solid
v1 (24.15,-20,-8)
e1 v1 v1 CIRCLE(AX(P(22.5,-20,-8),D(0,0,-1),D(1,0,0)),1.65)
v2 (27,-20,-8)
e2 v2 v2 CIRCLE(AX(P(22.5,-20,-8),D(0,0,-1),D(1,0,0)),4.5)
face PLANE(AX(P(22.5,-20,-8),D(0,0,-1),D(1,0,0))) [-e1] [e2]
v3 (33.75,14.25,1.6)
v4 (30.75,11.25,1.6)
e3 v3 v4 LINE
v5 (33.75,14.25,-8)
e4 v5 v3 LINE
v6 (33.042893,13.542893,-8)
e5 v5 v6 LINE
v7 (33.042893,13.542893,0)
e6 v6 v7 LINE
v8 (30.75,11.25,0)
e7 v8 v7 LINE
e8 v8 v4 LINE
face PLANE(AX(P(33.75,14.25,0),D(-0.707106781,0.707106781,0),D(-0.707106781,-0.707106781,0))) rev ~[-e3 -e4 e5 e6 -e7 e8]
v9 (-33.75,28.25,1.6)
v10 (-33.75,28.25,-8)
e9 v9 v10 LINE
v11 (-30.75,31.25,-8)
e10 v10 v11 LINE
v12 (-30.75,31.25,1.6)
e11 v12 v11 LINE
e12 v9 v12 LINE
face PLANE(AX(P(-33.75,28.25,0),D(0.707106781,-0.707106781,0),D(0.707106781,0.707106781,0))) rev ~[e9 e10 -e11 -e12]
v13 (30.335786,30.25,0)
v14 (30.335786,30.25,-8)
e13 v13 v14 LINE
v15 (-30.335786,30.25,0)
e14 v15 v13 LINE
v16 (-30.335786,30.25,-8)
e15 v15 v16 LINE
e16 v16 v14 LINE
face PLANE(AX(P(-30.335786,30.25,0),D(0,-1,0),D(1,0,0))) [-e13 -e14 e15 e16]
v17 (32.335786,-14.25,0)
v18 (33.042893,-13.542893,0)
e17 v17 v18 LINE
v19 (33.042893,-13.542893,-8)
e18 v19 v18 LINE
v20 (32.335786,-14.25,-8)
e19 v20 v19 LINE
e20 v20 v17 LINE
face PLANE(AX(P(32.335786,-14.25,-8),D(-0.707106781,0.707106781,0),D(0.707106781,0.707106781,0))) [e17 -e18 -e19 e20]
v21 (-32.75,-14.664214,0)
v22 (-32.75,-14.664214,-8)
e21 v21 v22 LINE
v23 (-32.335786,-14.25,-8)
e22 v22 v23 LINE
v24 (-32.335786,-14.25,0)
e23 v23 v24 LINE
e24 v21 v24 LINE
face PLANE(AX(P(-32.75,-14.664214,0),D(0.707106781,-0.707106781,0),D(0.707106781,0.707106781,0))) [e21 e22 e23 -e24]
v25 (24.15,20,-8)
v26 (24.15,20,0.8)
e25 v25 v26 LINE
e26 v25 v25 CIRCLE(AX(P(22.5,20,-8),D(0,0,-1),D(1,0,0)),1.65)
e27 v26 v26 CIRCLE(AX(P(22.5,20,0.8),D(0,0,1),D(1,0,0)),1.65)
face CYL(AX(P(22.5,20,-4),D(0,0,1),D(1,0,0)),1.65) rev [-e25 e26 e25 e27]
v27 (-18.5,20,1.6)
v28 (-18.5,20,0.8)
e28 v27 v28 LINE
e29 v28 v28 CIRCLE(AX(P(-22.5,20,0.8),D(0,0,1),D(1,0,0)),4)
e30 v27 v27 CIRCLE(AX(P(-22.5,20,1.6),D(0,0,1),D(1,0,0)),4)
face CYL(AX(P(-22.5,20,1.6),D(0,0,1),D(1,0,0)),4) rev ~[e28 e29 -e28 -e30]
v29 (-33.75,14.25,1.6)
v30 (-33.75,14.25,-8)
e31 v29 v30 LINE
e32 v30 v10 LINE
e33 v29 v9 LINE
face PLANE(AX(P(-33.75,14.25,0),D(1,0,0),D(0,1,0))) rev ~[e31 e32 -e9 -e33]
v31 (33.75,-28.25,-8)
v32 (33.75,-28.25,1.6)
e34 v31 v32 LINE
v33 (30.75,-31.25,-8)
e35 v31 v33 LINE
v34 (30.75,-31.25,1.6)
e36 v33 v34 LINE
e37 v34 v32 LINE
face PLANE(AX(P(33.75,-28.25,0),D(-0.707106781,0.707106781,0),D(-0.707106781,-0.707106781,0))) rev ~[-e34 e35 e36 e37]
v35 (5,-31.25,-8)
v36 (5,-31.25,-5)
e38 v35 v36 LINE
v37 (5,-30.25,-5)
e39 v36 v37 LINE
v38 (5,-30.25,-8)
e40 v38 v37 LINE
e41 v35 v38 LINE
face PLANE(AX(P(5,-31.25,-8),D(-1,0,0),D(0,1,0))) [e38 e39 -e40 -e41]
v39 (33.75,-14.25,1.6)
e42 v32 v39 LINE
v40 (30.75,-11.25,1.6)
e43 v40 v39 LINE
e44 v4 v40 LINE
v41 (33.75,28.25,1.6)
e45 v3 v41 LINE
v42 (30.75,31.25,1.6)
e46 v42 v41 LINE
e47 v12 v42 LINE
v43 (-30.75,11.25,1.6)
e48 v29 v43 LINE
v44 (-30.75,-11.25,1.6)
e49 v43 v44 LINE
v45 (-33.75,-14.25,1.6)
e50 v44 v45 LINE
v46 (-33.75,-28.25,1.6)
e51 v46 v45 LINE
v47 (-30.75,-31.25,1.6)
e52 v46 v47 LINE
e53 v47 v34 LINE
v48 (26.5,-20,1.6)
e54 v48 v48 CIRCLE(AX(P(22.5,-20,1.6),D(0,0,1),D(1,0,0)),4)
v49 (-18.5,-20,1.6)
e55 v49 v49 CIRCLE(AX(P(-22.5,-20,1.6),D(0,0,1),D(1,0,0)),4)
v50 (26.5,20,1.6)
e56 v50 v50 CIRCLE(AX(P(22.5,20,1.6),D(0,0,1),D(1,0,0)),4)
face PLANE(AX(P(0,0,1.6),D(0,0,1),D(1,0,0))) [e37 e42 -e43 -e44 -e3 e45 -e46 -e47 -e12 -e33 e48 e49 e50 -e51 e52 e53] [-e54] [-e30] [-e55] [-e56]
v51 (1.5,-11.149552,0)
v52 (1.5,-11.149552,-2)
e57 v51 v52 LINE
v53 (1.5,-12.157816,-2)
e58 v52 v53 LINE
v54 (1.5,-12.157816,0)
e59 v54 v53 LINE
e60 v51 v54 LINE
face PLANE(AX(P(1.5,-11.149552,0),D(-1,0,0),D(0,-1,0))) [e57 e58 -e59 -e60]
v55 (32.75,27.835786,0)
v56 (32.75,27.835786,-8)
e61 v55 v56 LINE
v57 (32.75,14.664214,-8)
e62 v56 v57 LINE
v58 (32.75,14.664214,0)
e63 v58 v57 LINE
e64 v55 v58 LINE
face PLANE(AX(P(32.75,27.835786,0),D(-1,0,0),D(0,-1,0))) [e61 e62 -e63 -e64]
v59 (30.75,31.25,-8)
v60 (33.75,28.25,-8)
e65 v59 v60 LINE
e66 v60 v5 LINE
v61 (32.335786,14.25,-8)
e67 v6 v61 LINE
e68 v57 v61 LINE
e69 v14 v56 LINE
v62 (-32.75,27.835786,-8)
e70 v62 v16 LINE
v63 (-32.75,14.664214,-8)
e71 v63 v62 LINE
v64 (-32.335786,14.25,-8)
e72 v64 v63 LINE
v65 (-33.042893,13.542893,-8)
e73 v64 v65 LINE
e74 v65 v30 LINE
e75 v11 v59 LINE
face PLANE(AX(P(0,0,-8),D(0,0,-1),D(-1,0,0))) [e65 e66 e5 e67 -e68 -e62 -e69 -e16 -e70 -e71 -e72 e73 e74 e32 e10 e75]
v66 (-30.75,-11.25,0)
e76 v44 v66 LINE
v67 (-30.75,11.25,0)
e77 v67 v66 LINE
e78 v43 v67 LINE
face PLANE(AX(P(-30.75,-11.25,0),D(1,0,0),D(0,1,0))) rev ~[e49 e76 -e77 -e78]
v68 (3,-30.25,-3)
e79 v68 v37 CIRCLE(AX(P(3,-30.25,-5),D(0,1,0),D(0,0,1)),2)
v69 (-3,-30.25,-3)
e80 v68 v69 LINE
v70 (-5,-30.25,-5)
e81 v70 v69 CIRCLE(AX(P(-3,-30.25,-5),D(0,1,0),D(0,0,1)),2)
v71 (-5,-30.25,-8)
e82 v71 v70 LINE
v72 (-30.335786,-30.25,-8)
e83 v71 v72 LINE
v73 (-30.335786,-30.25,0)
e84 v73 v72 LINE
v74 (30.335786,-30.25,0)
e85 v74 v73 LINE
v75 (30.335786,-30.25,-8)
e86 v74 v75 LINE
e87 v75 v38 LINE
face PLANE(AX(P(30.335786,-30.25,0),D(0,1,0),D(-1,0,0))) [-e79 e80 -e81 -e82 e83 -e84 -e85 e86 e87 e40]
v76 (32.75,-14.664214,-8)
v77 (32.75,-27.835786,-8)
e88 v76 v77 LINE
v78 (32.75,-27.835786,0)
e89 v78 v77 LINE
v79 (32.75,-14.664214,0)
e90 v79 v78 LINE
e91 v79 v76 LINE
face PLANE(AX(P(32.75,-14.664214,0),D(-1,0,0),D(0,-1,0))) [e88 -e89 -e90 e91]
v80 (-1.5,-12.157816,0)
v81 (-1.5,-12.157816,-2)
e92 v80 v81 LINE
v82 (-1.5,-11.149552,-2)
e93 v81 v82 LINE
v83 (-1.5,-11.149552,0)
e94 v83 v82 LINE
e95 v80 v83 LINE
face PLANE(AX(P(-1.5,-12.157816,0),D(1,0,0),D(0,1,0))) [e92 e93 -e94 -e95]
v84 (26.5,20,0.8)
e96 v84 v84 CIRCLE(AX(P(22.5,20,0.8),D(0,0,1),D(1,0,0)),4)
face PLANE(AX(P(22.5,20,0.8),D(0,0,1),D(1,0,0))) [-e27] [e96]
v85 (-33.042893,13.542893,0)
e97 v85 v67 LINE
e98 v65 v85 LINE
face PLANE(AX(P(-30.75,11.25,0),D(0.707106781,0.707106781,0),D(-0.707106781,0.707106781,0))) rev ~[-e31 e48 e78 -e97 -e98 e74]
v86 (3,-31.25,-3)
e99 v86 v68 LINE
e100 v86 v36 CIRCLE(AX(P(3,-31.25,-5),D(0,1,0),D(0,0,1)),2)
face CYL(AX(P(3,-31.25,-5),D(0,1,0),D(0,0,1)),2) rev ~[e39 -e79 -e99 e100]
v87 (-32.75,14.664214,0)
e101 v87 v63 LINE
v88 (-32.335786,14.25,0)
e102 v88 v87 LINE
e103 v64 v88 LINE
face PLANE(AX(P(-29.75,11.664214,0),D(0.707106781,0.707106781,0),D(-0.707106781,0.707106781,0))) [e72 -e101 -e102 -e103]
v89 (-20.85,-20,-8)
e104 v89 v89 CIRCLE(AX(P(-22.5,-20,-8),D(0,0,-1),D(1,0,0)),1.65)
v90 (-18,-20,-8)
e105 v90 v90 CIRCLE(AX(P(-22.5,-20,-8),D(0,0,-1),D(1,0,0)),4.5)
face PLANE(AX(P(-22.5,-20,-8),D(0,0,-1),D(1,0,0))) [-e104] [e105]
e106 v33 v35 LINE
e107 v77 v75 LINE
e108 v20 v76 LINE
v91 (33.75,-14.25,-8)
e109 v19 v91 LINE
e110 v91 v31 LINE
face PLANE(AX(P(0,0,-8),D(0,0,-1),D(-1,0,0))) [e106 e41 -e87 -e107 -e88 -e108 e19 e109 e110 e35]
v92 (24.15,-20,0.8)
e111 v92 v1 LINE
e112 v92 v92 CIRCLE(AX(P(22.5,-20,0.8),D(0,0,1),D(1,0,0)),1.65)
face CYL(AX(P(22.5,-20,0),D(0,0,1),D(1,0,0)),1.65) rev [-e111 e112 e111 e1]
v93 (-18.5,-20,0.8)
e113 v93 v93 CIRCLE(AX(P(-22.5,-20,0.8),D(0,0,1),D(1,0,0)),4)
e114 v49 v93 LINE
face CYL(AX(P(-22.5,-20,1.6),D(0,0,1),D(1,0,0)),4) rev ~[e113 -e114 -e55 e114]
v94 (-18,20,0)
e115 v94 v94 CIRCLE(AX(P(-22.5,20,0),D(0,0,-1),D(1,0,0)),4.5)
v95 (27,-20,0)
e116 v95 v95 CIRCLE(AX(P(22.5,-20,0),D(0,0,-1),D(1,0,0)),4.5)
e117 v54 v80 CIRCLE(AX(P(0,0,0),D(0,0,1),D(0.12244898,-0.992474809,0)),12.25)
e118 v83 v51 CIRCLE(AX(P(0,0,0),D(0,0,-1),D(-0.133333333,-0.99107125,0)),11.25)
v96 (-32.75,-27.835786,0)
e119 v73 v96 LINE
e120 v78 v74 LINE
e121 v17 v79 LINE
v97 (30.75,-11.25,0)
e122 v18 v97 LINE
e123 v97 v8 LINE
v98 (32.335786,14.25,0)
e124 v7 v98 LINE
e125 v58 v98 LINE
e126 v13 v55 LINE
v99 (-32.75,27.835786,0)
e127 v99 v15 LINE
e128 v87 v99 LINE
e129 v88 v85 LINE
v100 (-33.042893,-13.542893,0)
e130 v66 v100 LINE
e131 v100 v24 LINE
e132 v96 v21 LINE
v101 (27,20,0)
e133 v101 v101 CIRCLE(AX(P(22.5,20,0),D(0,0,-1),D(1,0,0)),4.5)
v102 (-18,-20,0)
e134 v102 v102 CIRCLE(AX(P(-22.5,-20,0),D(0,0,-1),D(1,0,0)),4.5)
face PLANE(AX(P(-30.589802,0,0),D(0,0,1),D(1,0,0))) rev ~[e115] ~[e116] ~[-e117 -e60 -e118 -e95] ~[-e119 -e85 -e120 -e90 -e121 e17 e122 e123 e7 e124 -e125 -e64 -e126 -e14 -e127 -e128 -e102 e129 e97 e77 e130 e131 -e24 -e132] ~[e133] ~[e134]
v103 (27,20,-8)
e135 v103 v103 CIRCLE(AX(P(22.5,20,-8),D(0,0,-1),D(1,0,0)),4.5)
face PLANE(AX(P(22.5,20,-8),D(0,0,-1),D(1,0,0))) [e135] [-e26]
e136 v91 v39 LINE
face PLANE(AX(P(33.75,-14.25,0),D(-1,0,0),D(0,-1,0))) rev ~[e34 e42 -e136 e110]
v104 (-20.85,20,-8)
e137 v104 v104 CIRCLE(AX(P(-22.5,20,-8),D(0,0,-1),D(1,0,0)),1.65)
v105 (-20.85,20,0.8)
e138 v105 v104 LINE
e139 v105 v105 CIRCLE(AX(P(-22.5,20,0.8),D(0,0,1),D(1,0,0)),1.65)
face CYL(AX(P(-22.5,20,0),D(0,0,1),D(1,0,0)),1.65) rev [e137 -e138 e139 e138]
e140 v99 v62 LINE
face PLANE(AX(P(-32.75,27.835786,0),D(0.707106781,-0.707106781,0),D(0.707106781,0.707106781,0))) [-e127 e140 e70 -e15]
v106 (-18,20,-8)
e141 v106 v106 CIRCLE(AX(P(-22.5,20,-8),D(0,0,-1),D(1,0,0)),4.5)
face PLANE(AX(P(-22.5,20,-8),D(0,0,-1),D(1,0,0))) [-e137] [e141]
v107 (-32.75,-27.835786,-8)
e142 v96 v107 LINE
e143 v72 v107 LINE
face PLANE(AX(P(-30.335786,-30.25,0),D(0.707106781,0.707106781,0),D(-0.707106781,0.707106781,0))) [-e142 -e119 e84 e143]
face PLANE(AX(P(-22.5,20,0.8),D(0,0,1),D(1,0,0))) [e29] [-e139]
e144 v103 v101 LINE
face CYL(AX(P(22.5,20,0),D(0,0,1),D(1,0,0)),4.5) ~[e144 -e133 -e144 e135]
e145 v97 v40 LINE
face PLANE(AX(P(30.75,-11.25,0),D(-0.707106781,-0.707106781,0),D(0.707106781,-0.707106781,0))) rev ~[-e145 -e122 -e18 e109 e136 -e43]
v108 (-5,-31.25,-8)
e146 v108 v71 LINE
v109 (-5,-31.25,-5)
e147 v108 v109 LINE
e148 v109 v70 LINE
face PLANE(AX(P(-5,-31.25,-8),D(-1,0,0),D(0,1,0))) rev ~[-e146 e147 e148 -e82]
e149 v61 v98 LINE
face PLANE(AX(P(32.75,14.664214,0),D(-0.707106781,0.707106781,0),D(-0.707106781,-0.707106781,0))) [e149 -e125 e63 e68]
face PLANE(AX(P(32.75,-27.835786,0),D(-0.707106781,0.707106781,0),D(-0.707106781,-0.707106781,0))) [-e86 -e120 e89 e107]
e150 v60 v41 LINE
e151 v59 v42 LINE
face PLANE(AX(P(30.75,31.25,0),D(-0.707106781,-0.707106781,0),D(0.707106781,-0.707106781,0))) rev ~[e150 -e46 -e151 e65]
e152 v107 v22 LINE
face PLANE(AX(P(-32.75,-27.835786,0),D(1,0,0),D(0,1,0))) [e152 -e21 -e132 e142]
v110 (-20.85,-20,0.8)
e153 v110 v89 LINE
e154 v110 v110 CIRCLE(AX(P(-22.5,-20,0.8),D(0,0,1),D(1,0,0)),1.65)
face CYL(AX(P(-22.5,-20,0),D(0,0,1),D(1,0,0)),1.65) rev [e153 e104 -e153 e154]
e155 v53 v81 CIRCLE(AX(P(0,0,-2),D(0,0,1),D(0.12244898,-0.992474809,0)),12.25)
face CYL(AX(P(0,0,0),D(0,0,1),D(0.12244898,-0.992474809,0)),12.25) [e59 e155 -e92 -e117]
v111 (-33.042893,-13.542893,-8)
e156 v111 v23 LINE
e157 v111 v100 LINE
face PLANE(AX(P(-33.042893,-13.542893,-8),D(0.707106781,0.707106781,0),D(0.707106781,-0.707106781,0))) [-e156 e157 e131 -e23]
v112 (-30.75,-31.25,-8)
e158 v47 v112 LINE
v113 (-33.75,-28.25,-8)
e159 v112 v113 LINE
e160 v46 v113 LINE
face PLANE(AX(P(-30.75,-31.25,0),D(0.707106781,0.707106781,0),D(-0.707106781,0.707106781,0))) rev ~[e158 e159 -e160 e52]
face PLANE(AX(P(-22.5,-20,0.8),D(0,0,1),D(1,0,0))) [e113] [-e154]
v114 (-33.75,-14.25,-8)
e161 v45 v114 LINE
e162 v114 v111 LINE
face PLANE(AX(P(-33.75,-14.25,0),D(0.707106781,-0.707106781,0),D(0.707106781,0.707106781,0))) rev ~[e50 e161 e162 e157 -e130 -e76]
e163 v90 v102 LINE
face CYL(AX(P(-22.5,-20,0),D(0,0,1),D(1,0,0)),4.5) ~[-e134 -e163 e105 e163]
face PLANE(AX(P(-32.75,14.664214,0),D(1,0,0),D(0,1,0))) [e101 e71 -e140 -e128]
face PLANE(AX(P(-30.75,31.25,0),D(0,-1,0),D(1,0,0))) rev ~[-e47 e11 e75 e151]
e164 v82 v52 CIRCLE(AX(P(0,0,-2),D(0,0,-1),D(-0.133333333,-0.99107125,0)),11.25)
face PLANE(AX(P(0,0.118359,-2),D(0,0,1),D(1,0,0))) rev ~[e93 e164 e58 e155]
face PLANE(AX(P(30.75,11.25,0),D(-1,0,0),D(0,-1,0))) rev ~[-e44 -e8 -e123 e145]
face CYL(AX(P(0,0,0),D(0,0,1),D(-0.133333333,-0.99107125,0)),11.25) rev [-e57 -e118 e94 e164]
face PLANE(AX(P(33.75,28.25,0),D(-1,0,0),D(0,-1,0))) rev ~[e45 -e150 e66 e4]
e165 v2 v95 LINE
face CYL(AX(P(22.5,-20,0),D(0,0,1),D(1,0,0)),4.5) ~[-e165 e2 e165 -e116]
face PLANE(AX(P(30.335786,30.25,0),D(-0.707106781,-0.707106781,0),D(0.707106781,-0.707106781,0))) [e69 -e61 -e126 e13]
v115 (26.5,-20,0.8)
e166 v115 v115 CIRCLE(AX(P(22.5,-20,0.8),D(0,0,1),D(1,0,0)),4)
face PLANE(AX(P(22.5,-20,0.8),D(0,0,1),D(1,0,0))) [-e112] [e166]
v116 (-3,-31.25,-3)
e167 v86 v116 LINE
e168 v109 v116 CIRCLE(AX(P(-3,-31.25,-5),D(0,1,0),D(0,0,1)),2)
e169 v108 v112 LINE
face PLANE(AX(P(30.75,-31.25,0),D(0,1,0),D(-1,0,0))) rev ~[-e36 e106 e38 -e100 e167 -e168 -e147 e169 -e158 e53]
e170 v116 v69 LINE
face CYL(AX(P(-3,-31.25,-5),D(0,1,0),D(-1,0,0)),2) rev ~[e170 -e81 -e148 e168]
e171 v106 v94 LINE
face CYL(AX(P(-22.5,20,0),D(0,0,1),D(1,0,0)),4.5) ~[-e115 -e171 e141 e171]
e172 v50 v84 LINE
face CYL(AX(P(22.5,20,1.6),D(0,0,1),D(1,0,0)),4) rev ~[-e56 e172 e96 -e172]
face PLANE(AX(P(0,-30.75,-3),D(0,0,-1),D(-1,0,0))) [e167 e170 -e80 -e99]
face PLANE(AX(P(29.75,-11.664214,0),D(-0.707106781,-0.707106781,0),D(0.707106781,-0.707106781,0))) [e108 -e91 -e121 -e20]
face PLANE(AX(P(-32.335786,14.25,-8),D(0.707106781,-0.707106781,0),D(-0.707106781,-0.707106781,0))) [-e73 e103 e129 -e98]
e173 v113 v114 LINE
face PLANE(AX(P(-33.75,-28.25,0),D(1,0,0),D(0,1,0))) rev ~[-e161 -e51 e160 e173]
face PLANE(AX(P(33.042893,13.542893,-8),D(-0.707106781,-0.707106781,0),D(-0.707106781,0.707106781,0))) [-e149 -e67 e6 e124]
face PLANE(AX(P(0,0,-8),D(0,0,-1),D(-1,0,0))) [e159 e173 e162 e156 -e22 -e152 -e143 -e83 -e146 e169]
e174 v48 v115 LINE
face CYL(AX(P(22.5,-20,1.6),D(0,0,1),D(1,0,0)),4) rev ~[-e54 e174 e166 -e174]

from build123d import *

# Parameters (mm, degrees)
SKETCH_1_W           = 67.5
SKETCH_1_H           = 62.5
EXTRUDE_1_DEPTH      = 1.6
SKETCH_2_R           = 1.65
CUT_EXTRUDE_1_DEPTH  = 10
CHAMFER_1_SIZE       = 3
SKETCH_3_R           = 1.65
EXTRUDE_2_DEPTH      = 4
SKETCH_4_R           = 4
CUT_EXTRUDE_2_DEPTH  = 0.8
SKETCH_5_R           = 4.5
EXTRUDE_3_DEPTH      = 6
EXTRUDE_4_DEPTH      = 8
SKETCH_7_W           = 10
SKETCH_7_H           = 1
CUT_EXTRUDE_3_DEPTH  = 5
EXTRUDE_5_DEPTH      = 2
CUT_EXTRUDE_4_DEPTH  = 8
FILLET_2_R           = 2
EXTRUDE_7_DEPTH      = 2
EXTRUDE_7_DEPTH_BACK = 2
SKETCH_12_R          = 4.5
SKETCH_12_R_2        = 1.65


with BuildPart() as part:
    # 草图1 → 凸台-拉伸1 (new body)
    with BuildSketch(Plane.XY):
        Rectangle(SKETCH_1_W, SKETCH_1_H)
    extrude(amount=EXTRUDE_1_DEPTH)

    # 草图2 → 切除-拉伸1 (cut)
    with BuildSketch(Plane.XY.offset(1.6)):
        with Locations((-22.5, 20)):
            Circle(SKETCH_2_R)
        with Locations((22.5, 20)):
            Circle(SKETCH_2_R)
        with Locations((22.5, -20)):
            Circle(SKETCH_2_R)
        with Locations((-22.5, -20)):
            Circle(SKETCH_2_R)
        Polygon((-30.75, 11.25), (-30.75, -11.25), (-33.75, -14.25), (-33.75, 14.25), align=None)
        Polygon((30.75, 11.25), (30.75, -11.25), (33.75, -14.25), (33.75, 14.25), align=None)
    extrude(amount=-CUT_EXTRUDE_1_DEPTH, mode=Mode.SUBTRACT)

    # 倒角1
    chamfer_1_edges = [part.edges().sort_by_distance(p)[0] for p in [
        (33.75, -31.25, 0.8),
        (-33.75, -31.25, 0.8),
        (-33.75, 31.25, 0.8),
        (33.75, 31.25, 0.8),
    ]]
    chamfer(chamfer_1_edges, length=CHAMFER_1_SIZE)

    # 草图3 → 凸台-拉伸2 (add)
    # profile 1 of 4: a face of its own
    with BuildSketch(Plane(origin=(0, 0, 0), x_dir=(-1, 0, 0), z_dir=(0, 0, -1))):
        Polygon((-19.901923789, 20), (-21.200961894, 22.25), (-23.799038106, 22.25), (-25.098076211, 20), (-23.799038106, 17.75), (-21.200961894, 17.75), align=None)
        with Locations(Location((-22.5, 20, 0), (0, 0, 180))):
            Circle(SKETCH_3_R, mode=Mode.SUBTRACT)
    # profile 2 of 4: a face of its own
    with BuildSketch(Plane(origin=(0, 0, 0), x_dir=(-1, 0, 0), z_dir=(0, 0, -1))):
        Polygon((25.098076211, 20), (23.799038106, 22.25), (21.200961894, 22.25), (19.901923789, 20), (21.200961894, 17.75), (23.799038106, 17.75), align=None)
        with Locations(Location((22.5, 20, 0), (0, 0, 180))):
            Circle(SKETCH_3_R, mode=Mode.SUBTRACT)
    # profile 3 of 4: a face of its own
    with BuildSketch(Plane(origin=(0, 0, 0), x_dir=(-1, 0, 0), z_dir=(0, 0, -1))):
        Polygon((25.098076211, -20), (23.799038106, -17.75), (21.200961894, -17.75), (19.901923789, -20), (21.200961894, -22.25), (23.799038106, -22.25), align=None)
        with Locations(Location((22.5, -20, 0), (0, 0, 180))):
            Circle(SKETCH_3_R, mode=Mode.SUBTRACT)
    # profile 4 of 4: a face of its own
    with BuildSketch(Plane(origin=(0, 0, 0), x_dir=(-1, 0, 0), z_dir=(0, 0, -1))):
        Polygon((-19.901923789, -20), (-21.200961894, -17.75), (-23.799038106, -17.75), (-25.098076211, -20), (-23.799038106, -22.25), (-21.200961894, -22.25), align=None)
        with Locations(Location((-22.5, -20, 0), (0, 0, 180))):
            Circle(SKETCH_3_R, mode=Mode.SUBTRACT)
    extrude(amount=EXTRUDE_2_DEPTH)

    # 草图4 → 切除-拉伸2 (cut)
    with BuildSketch(Plane.XY.offset(1.6)):
        with Locations((-22.5, 20)):
            Circle(SKETCH_4_R)
        with Locations((22.5, 20)):
            Circle(SKETCH_4_R)
        with Locations((22.5, -20)):
            Circle(SKETCH_4_R)
        with Locations((-22.5, -20)):
            Circle(SKETCH_4_R)
    extrude(amount=-CUT_EXTRUDE_2_DEPTH, mode=Mode.SUBTRACT)

    # 草图5 → 凸台-拉伸3 (add)
    # profile 1 of 4: a face of its own
    with BuildSketch(Plane(origin=(0, 0, 0), x_dir=(-1, 0, 0), z_dir=(0, 0, -1))):
        with Locations(Location((-22.5, 20, 0), (0, 0, 180))):
            Circle(SKETCH_5_R)
        Polygon((-21.200961894, 17.75), (-19.901923789, 20), (-21.200961894, 22.25), (-23.799038106, 22.25), (-25.098076211, 20), (-23.799038106, 17.75), align=None, mode=Mode.SUBTRACT)
    # profile 2 of 4: a face of its own
    with BuildSketch(Plane(origin=(0, 0, 0), x_dir=(-1, 0, 0), z_dir=(0, 0, -1))):
        with Locations(Location((22.5, 20, 0), (0, 0, 180))):
            Circle(SKETCH_5_R)
        Polygon((23.799038106, 17.75), (25.098076211, 20), (23.799038106, 22.25), (21.200961894, 22.25), (19.901923789, 20), (21.200961894, 17.75), align=None, mode=Mode.SUBTRACT)
    # profile 3 of 4: a face of its own
    with BuildSketch(Plane(origin=(0, 0, 0), x_dir=(-1, 0, 0), z_dir=(0, 0, -1))):
        with Locations(Location((22.5, -20, 0), (0, 0, 180))):
            Circle(SKETCH_5_R)
        Polygon((23.799038106, -22.25), (25.098076211, -20), (23.799038106, -17.75), (21.200961894, -17.75), (19.901923789, -20), (21.200961894, -22.25), align=None, mode=Mode.SUBTRACT)
    # profile 4 of 4: a face of its own
    with BuildSketch(Plane(origin=(0, 0, 0), x_dir=(-1, 0, 0), z_dir=(0, 0, -1))):
        with Locations(Location((-22.5, -20, 0), (0, 0, 180))):
            Circle(SKETCH_5_R)
        Polygon((-21.200961894, -22.25), (-19.901923789, -20), (-21.200961894, -17.75), (-23.799038106, -17.75), (-25.098076211, -20), (-23.799038106, -22.25), align=None, mode=Mode.SUBTRACT)
    extrude(amount=EXTRUDE_3_DEPTH)

    # 草图6 → 凸台-拉伸4 (add)
    with BuildSketch(Plane(origin=(0, 0, 0), x_dir=(-1, 0, 0), z_dir=(0, 0, -1))):
        Polygon((-30.75, -31.25), (30.75, -31.25), (33.75, -28.25), (33.75, -14.25), (30.75, -11.25), (30.75, 11.25), (33.75, 14.25), (33.75, 28.25), (30.75, 31.25), (-30.75, 31.25), (-33.75, 28.25), (-33.75, 14.25), (-30.75, 11.25), (-30.75, -11.25), (-33.75, -14.25), (-33.75, -28.25), align=None)
        Polygon((-30.335786438, -30.25), (30.335786438, -30.25), (32.75, -27.835786438), (32.75, -14.664213562), (29.75, -11.664213562), (29.75, 11.664213562), (32.75, 14.664213562), (32.75, 27.835786438), (30.335786438, 30.25), (-30.335786438, 30.25), (-32.75, 27.835786438), (-32.75, 14.664213562), (-29.75, 11.664213562), (-29.75, -11.664213562), (-32.75, -14.664213562), (-32.75, -27.835786438), align=None, mode=Mode.SUBTRACT)
    extrude(amount=EXTRUDE_4_DEPTH)

    # 草图7 → 切除-拉伸3 (cut)
    with BuildSketch(Plane(origin=(0, 0, -8), x_dir=(-1, 0, 0), z_dir=(0, 0, -1))):
        with Locations((0, -30.75)):
            Rectangle(SKETCH_7_W, SKETCH_7_H)
    extrude(amount=-CUT_EXTRUDE_3_DEPTH, mode=Mode.SUBTRACT)

    # 草图8 → 凸台-拉伸5 (add)
    with BuildSketch(Plane(origin=(0, 0, 0), x_dir=(-1, 0, 0), z_dir=(0, 0, -1))):
        with BuildLine():
            Line((-1.5, -11.14955156), (-1.5, -12.157816416))
            ThreePointArc((-1.5, -12.157816416), (0, 12.25), (1.5, -12.157816416))
            Line((1.5, -12.157816416), (1.5, -11.14955156))
            ThreePointArc((1.5, -11.14955156), (0, 11.25), (-1.5, -11.14955156))
        make_face()
    extrude(amount=EXTRUDE_5_DEPTH)

    # 草图9 → 切除-拉伸4 (cut)
    with BuildSketch(Plane(origin=(0, 0, -8), x_dir=(-1, 0, 0), z_dir=(0, 0, -1))):
        Polygon((29.75, 11.664213562), (32.335786438, 14.25), (33.042893219, 13.542893219), (30.75, 11.25), (30.75, -11.25), (33.042893219, -13.542893219), (32.335786438, -14.25), (29.75, -11.664213562), align=None)
        Polygon((-33.042893219, 13.542893219), (-32.335786438, 14.25), (-29.75, 11.664213562), (-29.75, -11.664213562), (-32.335786438, -14.25), (-33.042893219, -13.542893219), (-30.75, -11.25), (-30.75, 11.25), align=None)
    extrude(amount=-CUT_EXTRUDE_4_DEPTH, mode=Mode.SUBTRACT)

    # 圆角2
    fillet_2_edges = [part.edges().sort_by_distance(p)[0] for p in [
        (5, -30.75, -3),
        (-5, -30.75, -3),
    ]]
    fillet(fillet_2_edges, radius=FILLET_2_R)

    # 草图12 → 凸台-拉伸7 (add, two sides: drawn at the far end of the back side and taken through both)
    # profile 1 of 4: a face of its own
    with BuildSketch(Plane(origin=(0, 0, -6), x_dir=(-1, 0, 0), z_dir=(0, 0, -1)).offset(-EXTRUDE_7_DEPTH_BACK)):
        with Locations(Location((-22.5, 20, 0), (0, 0, 180))):
            Circle(SKETCH_12_R)
        with Locations(Location((-22.5, 20, 0), (0, 0, 180))):
            Circle(SKETCH_12_R_2, mode=Mode.SUBTRACT)
    # profile 2 of 4: a face of its own
    with BuildSketch(Plane(origin=(0, 0, -6), x_dir=(-1, 0, 0), z_dir=(0, 0, -1)).offset(-EXTRUDE_7_DEPTH_BACK)):
        with Locations(Location((22.5, 20, 0), (0, 0, 180))):
            Circle(SKETCH_12_R)
        with Locations(Location((22.5, 20, 0), (0, 0, 180))):
            Circle(SKETCH_12_R_2, mode=Mode.SUBTRACT)
    # profile 3 of 4: a face of its own
    with BuildSketch(Plane(origin=(0, 0, -6), x_dir=(-1, 0, 0), z_dir=(0, 0, -1)).offset(-EXTRUDE_7_DEPTH_BACK)):
        with Locations(Location((-22.5, -20, 0), (0, 0, 180))):
            Circle(SKETCH_12_R)
        with Locations(Location((-22.5, -20, 0), (0, 0, 180))):
            Circle(SKETCH_12_R_2, mode=Mode.SUBTRACT)
    # profile 4 of 4: a face of its own
    with BuildSketch(Plane(origin=(0, 0, -6), x_dir=(-1, 0, 0), z_dir=(0, 0, -1)).offset(-EXTRUDE_7_DEPTH_BACK)):
        with Locations(Location((22.5, -20, 0), (0, 0, 180))):
            Circle(SKETCH_12_R)
        with Locations(Location((22.5, -20, 0), (0, 0, 180))):
            Circle(SKETCH_12_R_2, mode=Mode.SUBTRACT)
    extrude(amount=EXTRUDE_7_DEPTH + EXTRUDE_7_DEPTH_BACK)


solid = part.part
